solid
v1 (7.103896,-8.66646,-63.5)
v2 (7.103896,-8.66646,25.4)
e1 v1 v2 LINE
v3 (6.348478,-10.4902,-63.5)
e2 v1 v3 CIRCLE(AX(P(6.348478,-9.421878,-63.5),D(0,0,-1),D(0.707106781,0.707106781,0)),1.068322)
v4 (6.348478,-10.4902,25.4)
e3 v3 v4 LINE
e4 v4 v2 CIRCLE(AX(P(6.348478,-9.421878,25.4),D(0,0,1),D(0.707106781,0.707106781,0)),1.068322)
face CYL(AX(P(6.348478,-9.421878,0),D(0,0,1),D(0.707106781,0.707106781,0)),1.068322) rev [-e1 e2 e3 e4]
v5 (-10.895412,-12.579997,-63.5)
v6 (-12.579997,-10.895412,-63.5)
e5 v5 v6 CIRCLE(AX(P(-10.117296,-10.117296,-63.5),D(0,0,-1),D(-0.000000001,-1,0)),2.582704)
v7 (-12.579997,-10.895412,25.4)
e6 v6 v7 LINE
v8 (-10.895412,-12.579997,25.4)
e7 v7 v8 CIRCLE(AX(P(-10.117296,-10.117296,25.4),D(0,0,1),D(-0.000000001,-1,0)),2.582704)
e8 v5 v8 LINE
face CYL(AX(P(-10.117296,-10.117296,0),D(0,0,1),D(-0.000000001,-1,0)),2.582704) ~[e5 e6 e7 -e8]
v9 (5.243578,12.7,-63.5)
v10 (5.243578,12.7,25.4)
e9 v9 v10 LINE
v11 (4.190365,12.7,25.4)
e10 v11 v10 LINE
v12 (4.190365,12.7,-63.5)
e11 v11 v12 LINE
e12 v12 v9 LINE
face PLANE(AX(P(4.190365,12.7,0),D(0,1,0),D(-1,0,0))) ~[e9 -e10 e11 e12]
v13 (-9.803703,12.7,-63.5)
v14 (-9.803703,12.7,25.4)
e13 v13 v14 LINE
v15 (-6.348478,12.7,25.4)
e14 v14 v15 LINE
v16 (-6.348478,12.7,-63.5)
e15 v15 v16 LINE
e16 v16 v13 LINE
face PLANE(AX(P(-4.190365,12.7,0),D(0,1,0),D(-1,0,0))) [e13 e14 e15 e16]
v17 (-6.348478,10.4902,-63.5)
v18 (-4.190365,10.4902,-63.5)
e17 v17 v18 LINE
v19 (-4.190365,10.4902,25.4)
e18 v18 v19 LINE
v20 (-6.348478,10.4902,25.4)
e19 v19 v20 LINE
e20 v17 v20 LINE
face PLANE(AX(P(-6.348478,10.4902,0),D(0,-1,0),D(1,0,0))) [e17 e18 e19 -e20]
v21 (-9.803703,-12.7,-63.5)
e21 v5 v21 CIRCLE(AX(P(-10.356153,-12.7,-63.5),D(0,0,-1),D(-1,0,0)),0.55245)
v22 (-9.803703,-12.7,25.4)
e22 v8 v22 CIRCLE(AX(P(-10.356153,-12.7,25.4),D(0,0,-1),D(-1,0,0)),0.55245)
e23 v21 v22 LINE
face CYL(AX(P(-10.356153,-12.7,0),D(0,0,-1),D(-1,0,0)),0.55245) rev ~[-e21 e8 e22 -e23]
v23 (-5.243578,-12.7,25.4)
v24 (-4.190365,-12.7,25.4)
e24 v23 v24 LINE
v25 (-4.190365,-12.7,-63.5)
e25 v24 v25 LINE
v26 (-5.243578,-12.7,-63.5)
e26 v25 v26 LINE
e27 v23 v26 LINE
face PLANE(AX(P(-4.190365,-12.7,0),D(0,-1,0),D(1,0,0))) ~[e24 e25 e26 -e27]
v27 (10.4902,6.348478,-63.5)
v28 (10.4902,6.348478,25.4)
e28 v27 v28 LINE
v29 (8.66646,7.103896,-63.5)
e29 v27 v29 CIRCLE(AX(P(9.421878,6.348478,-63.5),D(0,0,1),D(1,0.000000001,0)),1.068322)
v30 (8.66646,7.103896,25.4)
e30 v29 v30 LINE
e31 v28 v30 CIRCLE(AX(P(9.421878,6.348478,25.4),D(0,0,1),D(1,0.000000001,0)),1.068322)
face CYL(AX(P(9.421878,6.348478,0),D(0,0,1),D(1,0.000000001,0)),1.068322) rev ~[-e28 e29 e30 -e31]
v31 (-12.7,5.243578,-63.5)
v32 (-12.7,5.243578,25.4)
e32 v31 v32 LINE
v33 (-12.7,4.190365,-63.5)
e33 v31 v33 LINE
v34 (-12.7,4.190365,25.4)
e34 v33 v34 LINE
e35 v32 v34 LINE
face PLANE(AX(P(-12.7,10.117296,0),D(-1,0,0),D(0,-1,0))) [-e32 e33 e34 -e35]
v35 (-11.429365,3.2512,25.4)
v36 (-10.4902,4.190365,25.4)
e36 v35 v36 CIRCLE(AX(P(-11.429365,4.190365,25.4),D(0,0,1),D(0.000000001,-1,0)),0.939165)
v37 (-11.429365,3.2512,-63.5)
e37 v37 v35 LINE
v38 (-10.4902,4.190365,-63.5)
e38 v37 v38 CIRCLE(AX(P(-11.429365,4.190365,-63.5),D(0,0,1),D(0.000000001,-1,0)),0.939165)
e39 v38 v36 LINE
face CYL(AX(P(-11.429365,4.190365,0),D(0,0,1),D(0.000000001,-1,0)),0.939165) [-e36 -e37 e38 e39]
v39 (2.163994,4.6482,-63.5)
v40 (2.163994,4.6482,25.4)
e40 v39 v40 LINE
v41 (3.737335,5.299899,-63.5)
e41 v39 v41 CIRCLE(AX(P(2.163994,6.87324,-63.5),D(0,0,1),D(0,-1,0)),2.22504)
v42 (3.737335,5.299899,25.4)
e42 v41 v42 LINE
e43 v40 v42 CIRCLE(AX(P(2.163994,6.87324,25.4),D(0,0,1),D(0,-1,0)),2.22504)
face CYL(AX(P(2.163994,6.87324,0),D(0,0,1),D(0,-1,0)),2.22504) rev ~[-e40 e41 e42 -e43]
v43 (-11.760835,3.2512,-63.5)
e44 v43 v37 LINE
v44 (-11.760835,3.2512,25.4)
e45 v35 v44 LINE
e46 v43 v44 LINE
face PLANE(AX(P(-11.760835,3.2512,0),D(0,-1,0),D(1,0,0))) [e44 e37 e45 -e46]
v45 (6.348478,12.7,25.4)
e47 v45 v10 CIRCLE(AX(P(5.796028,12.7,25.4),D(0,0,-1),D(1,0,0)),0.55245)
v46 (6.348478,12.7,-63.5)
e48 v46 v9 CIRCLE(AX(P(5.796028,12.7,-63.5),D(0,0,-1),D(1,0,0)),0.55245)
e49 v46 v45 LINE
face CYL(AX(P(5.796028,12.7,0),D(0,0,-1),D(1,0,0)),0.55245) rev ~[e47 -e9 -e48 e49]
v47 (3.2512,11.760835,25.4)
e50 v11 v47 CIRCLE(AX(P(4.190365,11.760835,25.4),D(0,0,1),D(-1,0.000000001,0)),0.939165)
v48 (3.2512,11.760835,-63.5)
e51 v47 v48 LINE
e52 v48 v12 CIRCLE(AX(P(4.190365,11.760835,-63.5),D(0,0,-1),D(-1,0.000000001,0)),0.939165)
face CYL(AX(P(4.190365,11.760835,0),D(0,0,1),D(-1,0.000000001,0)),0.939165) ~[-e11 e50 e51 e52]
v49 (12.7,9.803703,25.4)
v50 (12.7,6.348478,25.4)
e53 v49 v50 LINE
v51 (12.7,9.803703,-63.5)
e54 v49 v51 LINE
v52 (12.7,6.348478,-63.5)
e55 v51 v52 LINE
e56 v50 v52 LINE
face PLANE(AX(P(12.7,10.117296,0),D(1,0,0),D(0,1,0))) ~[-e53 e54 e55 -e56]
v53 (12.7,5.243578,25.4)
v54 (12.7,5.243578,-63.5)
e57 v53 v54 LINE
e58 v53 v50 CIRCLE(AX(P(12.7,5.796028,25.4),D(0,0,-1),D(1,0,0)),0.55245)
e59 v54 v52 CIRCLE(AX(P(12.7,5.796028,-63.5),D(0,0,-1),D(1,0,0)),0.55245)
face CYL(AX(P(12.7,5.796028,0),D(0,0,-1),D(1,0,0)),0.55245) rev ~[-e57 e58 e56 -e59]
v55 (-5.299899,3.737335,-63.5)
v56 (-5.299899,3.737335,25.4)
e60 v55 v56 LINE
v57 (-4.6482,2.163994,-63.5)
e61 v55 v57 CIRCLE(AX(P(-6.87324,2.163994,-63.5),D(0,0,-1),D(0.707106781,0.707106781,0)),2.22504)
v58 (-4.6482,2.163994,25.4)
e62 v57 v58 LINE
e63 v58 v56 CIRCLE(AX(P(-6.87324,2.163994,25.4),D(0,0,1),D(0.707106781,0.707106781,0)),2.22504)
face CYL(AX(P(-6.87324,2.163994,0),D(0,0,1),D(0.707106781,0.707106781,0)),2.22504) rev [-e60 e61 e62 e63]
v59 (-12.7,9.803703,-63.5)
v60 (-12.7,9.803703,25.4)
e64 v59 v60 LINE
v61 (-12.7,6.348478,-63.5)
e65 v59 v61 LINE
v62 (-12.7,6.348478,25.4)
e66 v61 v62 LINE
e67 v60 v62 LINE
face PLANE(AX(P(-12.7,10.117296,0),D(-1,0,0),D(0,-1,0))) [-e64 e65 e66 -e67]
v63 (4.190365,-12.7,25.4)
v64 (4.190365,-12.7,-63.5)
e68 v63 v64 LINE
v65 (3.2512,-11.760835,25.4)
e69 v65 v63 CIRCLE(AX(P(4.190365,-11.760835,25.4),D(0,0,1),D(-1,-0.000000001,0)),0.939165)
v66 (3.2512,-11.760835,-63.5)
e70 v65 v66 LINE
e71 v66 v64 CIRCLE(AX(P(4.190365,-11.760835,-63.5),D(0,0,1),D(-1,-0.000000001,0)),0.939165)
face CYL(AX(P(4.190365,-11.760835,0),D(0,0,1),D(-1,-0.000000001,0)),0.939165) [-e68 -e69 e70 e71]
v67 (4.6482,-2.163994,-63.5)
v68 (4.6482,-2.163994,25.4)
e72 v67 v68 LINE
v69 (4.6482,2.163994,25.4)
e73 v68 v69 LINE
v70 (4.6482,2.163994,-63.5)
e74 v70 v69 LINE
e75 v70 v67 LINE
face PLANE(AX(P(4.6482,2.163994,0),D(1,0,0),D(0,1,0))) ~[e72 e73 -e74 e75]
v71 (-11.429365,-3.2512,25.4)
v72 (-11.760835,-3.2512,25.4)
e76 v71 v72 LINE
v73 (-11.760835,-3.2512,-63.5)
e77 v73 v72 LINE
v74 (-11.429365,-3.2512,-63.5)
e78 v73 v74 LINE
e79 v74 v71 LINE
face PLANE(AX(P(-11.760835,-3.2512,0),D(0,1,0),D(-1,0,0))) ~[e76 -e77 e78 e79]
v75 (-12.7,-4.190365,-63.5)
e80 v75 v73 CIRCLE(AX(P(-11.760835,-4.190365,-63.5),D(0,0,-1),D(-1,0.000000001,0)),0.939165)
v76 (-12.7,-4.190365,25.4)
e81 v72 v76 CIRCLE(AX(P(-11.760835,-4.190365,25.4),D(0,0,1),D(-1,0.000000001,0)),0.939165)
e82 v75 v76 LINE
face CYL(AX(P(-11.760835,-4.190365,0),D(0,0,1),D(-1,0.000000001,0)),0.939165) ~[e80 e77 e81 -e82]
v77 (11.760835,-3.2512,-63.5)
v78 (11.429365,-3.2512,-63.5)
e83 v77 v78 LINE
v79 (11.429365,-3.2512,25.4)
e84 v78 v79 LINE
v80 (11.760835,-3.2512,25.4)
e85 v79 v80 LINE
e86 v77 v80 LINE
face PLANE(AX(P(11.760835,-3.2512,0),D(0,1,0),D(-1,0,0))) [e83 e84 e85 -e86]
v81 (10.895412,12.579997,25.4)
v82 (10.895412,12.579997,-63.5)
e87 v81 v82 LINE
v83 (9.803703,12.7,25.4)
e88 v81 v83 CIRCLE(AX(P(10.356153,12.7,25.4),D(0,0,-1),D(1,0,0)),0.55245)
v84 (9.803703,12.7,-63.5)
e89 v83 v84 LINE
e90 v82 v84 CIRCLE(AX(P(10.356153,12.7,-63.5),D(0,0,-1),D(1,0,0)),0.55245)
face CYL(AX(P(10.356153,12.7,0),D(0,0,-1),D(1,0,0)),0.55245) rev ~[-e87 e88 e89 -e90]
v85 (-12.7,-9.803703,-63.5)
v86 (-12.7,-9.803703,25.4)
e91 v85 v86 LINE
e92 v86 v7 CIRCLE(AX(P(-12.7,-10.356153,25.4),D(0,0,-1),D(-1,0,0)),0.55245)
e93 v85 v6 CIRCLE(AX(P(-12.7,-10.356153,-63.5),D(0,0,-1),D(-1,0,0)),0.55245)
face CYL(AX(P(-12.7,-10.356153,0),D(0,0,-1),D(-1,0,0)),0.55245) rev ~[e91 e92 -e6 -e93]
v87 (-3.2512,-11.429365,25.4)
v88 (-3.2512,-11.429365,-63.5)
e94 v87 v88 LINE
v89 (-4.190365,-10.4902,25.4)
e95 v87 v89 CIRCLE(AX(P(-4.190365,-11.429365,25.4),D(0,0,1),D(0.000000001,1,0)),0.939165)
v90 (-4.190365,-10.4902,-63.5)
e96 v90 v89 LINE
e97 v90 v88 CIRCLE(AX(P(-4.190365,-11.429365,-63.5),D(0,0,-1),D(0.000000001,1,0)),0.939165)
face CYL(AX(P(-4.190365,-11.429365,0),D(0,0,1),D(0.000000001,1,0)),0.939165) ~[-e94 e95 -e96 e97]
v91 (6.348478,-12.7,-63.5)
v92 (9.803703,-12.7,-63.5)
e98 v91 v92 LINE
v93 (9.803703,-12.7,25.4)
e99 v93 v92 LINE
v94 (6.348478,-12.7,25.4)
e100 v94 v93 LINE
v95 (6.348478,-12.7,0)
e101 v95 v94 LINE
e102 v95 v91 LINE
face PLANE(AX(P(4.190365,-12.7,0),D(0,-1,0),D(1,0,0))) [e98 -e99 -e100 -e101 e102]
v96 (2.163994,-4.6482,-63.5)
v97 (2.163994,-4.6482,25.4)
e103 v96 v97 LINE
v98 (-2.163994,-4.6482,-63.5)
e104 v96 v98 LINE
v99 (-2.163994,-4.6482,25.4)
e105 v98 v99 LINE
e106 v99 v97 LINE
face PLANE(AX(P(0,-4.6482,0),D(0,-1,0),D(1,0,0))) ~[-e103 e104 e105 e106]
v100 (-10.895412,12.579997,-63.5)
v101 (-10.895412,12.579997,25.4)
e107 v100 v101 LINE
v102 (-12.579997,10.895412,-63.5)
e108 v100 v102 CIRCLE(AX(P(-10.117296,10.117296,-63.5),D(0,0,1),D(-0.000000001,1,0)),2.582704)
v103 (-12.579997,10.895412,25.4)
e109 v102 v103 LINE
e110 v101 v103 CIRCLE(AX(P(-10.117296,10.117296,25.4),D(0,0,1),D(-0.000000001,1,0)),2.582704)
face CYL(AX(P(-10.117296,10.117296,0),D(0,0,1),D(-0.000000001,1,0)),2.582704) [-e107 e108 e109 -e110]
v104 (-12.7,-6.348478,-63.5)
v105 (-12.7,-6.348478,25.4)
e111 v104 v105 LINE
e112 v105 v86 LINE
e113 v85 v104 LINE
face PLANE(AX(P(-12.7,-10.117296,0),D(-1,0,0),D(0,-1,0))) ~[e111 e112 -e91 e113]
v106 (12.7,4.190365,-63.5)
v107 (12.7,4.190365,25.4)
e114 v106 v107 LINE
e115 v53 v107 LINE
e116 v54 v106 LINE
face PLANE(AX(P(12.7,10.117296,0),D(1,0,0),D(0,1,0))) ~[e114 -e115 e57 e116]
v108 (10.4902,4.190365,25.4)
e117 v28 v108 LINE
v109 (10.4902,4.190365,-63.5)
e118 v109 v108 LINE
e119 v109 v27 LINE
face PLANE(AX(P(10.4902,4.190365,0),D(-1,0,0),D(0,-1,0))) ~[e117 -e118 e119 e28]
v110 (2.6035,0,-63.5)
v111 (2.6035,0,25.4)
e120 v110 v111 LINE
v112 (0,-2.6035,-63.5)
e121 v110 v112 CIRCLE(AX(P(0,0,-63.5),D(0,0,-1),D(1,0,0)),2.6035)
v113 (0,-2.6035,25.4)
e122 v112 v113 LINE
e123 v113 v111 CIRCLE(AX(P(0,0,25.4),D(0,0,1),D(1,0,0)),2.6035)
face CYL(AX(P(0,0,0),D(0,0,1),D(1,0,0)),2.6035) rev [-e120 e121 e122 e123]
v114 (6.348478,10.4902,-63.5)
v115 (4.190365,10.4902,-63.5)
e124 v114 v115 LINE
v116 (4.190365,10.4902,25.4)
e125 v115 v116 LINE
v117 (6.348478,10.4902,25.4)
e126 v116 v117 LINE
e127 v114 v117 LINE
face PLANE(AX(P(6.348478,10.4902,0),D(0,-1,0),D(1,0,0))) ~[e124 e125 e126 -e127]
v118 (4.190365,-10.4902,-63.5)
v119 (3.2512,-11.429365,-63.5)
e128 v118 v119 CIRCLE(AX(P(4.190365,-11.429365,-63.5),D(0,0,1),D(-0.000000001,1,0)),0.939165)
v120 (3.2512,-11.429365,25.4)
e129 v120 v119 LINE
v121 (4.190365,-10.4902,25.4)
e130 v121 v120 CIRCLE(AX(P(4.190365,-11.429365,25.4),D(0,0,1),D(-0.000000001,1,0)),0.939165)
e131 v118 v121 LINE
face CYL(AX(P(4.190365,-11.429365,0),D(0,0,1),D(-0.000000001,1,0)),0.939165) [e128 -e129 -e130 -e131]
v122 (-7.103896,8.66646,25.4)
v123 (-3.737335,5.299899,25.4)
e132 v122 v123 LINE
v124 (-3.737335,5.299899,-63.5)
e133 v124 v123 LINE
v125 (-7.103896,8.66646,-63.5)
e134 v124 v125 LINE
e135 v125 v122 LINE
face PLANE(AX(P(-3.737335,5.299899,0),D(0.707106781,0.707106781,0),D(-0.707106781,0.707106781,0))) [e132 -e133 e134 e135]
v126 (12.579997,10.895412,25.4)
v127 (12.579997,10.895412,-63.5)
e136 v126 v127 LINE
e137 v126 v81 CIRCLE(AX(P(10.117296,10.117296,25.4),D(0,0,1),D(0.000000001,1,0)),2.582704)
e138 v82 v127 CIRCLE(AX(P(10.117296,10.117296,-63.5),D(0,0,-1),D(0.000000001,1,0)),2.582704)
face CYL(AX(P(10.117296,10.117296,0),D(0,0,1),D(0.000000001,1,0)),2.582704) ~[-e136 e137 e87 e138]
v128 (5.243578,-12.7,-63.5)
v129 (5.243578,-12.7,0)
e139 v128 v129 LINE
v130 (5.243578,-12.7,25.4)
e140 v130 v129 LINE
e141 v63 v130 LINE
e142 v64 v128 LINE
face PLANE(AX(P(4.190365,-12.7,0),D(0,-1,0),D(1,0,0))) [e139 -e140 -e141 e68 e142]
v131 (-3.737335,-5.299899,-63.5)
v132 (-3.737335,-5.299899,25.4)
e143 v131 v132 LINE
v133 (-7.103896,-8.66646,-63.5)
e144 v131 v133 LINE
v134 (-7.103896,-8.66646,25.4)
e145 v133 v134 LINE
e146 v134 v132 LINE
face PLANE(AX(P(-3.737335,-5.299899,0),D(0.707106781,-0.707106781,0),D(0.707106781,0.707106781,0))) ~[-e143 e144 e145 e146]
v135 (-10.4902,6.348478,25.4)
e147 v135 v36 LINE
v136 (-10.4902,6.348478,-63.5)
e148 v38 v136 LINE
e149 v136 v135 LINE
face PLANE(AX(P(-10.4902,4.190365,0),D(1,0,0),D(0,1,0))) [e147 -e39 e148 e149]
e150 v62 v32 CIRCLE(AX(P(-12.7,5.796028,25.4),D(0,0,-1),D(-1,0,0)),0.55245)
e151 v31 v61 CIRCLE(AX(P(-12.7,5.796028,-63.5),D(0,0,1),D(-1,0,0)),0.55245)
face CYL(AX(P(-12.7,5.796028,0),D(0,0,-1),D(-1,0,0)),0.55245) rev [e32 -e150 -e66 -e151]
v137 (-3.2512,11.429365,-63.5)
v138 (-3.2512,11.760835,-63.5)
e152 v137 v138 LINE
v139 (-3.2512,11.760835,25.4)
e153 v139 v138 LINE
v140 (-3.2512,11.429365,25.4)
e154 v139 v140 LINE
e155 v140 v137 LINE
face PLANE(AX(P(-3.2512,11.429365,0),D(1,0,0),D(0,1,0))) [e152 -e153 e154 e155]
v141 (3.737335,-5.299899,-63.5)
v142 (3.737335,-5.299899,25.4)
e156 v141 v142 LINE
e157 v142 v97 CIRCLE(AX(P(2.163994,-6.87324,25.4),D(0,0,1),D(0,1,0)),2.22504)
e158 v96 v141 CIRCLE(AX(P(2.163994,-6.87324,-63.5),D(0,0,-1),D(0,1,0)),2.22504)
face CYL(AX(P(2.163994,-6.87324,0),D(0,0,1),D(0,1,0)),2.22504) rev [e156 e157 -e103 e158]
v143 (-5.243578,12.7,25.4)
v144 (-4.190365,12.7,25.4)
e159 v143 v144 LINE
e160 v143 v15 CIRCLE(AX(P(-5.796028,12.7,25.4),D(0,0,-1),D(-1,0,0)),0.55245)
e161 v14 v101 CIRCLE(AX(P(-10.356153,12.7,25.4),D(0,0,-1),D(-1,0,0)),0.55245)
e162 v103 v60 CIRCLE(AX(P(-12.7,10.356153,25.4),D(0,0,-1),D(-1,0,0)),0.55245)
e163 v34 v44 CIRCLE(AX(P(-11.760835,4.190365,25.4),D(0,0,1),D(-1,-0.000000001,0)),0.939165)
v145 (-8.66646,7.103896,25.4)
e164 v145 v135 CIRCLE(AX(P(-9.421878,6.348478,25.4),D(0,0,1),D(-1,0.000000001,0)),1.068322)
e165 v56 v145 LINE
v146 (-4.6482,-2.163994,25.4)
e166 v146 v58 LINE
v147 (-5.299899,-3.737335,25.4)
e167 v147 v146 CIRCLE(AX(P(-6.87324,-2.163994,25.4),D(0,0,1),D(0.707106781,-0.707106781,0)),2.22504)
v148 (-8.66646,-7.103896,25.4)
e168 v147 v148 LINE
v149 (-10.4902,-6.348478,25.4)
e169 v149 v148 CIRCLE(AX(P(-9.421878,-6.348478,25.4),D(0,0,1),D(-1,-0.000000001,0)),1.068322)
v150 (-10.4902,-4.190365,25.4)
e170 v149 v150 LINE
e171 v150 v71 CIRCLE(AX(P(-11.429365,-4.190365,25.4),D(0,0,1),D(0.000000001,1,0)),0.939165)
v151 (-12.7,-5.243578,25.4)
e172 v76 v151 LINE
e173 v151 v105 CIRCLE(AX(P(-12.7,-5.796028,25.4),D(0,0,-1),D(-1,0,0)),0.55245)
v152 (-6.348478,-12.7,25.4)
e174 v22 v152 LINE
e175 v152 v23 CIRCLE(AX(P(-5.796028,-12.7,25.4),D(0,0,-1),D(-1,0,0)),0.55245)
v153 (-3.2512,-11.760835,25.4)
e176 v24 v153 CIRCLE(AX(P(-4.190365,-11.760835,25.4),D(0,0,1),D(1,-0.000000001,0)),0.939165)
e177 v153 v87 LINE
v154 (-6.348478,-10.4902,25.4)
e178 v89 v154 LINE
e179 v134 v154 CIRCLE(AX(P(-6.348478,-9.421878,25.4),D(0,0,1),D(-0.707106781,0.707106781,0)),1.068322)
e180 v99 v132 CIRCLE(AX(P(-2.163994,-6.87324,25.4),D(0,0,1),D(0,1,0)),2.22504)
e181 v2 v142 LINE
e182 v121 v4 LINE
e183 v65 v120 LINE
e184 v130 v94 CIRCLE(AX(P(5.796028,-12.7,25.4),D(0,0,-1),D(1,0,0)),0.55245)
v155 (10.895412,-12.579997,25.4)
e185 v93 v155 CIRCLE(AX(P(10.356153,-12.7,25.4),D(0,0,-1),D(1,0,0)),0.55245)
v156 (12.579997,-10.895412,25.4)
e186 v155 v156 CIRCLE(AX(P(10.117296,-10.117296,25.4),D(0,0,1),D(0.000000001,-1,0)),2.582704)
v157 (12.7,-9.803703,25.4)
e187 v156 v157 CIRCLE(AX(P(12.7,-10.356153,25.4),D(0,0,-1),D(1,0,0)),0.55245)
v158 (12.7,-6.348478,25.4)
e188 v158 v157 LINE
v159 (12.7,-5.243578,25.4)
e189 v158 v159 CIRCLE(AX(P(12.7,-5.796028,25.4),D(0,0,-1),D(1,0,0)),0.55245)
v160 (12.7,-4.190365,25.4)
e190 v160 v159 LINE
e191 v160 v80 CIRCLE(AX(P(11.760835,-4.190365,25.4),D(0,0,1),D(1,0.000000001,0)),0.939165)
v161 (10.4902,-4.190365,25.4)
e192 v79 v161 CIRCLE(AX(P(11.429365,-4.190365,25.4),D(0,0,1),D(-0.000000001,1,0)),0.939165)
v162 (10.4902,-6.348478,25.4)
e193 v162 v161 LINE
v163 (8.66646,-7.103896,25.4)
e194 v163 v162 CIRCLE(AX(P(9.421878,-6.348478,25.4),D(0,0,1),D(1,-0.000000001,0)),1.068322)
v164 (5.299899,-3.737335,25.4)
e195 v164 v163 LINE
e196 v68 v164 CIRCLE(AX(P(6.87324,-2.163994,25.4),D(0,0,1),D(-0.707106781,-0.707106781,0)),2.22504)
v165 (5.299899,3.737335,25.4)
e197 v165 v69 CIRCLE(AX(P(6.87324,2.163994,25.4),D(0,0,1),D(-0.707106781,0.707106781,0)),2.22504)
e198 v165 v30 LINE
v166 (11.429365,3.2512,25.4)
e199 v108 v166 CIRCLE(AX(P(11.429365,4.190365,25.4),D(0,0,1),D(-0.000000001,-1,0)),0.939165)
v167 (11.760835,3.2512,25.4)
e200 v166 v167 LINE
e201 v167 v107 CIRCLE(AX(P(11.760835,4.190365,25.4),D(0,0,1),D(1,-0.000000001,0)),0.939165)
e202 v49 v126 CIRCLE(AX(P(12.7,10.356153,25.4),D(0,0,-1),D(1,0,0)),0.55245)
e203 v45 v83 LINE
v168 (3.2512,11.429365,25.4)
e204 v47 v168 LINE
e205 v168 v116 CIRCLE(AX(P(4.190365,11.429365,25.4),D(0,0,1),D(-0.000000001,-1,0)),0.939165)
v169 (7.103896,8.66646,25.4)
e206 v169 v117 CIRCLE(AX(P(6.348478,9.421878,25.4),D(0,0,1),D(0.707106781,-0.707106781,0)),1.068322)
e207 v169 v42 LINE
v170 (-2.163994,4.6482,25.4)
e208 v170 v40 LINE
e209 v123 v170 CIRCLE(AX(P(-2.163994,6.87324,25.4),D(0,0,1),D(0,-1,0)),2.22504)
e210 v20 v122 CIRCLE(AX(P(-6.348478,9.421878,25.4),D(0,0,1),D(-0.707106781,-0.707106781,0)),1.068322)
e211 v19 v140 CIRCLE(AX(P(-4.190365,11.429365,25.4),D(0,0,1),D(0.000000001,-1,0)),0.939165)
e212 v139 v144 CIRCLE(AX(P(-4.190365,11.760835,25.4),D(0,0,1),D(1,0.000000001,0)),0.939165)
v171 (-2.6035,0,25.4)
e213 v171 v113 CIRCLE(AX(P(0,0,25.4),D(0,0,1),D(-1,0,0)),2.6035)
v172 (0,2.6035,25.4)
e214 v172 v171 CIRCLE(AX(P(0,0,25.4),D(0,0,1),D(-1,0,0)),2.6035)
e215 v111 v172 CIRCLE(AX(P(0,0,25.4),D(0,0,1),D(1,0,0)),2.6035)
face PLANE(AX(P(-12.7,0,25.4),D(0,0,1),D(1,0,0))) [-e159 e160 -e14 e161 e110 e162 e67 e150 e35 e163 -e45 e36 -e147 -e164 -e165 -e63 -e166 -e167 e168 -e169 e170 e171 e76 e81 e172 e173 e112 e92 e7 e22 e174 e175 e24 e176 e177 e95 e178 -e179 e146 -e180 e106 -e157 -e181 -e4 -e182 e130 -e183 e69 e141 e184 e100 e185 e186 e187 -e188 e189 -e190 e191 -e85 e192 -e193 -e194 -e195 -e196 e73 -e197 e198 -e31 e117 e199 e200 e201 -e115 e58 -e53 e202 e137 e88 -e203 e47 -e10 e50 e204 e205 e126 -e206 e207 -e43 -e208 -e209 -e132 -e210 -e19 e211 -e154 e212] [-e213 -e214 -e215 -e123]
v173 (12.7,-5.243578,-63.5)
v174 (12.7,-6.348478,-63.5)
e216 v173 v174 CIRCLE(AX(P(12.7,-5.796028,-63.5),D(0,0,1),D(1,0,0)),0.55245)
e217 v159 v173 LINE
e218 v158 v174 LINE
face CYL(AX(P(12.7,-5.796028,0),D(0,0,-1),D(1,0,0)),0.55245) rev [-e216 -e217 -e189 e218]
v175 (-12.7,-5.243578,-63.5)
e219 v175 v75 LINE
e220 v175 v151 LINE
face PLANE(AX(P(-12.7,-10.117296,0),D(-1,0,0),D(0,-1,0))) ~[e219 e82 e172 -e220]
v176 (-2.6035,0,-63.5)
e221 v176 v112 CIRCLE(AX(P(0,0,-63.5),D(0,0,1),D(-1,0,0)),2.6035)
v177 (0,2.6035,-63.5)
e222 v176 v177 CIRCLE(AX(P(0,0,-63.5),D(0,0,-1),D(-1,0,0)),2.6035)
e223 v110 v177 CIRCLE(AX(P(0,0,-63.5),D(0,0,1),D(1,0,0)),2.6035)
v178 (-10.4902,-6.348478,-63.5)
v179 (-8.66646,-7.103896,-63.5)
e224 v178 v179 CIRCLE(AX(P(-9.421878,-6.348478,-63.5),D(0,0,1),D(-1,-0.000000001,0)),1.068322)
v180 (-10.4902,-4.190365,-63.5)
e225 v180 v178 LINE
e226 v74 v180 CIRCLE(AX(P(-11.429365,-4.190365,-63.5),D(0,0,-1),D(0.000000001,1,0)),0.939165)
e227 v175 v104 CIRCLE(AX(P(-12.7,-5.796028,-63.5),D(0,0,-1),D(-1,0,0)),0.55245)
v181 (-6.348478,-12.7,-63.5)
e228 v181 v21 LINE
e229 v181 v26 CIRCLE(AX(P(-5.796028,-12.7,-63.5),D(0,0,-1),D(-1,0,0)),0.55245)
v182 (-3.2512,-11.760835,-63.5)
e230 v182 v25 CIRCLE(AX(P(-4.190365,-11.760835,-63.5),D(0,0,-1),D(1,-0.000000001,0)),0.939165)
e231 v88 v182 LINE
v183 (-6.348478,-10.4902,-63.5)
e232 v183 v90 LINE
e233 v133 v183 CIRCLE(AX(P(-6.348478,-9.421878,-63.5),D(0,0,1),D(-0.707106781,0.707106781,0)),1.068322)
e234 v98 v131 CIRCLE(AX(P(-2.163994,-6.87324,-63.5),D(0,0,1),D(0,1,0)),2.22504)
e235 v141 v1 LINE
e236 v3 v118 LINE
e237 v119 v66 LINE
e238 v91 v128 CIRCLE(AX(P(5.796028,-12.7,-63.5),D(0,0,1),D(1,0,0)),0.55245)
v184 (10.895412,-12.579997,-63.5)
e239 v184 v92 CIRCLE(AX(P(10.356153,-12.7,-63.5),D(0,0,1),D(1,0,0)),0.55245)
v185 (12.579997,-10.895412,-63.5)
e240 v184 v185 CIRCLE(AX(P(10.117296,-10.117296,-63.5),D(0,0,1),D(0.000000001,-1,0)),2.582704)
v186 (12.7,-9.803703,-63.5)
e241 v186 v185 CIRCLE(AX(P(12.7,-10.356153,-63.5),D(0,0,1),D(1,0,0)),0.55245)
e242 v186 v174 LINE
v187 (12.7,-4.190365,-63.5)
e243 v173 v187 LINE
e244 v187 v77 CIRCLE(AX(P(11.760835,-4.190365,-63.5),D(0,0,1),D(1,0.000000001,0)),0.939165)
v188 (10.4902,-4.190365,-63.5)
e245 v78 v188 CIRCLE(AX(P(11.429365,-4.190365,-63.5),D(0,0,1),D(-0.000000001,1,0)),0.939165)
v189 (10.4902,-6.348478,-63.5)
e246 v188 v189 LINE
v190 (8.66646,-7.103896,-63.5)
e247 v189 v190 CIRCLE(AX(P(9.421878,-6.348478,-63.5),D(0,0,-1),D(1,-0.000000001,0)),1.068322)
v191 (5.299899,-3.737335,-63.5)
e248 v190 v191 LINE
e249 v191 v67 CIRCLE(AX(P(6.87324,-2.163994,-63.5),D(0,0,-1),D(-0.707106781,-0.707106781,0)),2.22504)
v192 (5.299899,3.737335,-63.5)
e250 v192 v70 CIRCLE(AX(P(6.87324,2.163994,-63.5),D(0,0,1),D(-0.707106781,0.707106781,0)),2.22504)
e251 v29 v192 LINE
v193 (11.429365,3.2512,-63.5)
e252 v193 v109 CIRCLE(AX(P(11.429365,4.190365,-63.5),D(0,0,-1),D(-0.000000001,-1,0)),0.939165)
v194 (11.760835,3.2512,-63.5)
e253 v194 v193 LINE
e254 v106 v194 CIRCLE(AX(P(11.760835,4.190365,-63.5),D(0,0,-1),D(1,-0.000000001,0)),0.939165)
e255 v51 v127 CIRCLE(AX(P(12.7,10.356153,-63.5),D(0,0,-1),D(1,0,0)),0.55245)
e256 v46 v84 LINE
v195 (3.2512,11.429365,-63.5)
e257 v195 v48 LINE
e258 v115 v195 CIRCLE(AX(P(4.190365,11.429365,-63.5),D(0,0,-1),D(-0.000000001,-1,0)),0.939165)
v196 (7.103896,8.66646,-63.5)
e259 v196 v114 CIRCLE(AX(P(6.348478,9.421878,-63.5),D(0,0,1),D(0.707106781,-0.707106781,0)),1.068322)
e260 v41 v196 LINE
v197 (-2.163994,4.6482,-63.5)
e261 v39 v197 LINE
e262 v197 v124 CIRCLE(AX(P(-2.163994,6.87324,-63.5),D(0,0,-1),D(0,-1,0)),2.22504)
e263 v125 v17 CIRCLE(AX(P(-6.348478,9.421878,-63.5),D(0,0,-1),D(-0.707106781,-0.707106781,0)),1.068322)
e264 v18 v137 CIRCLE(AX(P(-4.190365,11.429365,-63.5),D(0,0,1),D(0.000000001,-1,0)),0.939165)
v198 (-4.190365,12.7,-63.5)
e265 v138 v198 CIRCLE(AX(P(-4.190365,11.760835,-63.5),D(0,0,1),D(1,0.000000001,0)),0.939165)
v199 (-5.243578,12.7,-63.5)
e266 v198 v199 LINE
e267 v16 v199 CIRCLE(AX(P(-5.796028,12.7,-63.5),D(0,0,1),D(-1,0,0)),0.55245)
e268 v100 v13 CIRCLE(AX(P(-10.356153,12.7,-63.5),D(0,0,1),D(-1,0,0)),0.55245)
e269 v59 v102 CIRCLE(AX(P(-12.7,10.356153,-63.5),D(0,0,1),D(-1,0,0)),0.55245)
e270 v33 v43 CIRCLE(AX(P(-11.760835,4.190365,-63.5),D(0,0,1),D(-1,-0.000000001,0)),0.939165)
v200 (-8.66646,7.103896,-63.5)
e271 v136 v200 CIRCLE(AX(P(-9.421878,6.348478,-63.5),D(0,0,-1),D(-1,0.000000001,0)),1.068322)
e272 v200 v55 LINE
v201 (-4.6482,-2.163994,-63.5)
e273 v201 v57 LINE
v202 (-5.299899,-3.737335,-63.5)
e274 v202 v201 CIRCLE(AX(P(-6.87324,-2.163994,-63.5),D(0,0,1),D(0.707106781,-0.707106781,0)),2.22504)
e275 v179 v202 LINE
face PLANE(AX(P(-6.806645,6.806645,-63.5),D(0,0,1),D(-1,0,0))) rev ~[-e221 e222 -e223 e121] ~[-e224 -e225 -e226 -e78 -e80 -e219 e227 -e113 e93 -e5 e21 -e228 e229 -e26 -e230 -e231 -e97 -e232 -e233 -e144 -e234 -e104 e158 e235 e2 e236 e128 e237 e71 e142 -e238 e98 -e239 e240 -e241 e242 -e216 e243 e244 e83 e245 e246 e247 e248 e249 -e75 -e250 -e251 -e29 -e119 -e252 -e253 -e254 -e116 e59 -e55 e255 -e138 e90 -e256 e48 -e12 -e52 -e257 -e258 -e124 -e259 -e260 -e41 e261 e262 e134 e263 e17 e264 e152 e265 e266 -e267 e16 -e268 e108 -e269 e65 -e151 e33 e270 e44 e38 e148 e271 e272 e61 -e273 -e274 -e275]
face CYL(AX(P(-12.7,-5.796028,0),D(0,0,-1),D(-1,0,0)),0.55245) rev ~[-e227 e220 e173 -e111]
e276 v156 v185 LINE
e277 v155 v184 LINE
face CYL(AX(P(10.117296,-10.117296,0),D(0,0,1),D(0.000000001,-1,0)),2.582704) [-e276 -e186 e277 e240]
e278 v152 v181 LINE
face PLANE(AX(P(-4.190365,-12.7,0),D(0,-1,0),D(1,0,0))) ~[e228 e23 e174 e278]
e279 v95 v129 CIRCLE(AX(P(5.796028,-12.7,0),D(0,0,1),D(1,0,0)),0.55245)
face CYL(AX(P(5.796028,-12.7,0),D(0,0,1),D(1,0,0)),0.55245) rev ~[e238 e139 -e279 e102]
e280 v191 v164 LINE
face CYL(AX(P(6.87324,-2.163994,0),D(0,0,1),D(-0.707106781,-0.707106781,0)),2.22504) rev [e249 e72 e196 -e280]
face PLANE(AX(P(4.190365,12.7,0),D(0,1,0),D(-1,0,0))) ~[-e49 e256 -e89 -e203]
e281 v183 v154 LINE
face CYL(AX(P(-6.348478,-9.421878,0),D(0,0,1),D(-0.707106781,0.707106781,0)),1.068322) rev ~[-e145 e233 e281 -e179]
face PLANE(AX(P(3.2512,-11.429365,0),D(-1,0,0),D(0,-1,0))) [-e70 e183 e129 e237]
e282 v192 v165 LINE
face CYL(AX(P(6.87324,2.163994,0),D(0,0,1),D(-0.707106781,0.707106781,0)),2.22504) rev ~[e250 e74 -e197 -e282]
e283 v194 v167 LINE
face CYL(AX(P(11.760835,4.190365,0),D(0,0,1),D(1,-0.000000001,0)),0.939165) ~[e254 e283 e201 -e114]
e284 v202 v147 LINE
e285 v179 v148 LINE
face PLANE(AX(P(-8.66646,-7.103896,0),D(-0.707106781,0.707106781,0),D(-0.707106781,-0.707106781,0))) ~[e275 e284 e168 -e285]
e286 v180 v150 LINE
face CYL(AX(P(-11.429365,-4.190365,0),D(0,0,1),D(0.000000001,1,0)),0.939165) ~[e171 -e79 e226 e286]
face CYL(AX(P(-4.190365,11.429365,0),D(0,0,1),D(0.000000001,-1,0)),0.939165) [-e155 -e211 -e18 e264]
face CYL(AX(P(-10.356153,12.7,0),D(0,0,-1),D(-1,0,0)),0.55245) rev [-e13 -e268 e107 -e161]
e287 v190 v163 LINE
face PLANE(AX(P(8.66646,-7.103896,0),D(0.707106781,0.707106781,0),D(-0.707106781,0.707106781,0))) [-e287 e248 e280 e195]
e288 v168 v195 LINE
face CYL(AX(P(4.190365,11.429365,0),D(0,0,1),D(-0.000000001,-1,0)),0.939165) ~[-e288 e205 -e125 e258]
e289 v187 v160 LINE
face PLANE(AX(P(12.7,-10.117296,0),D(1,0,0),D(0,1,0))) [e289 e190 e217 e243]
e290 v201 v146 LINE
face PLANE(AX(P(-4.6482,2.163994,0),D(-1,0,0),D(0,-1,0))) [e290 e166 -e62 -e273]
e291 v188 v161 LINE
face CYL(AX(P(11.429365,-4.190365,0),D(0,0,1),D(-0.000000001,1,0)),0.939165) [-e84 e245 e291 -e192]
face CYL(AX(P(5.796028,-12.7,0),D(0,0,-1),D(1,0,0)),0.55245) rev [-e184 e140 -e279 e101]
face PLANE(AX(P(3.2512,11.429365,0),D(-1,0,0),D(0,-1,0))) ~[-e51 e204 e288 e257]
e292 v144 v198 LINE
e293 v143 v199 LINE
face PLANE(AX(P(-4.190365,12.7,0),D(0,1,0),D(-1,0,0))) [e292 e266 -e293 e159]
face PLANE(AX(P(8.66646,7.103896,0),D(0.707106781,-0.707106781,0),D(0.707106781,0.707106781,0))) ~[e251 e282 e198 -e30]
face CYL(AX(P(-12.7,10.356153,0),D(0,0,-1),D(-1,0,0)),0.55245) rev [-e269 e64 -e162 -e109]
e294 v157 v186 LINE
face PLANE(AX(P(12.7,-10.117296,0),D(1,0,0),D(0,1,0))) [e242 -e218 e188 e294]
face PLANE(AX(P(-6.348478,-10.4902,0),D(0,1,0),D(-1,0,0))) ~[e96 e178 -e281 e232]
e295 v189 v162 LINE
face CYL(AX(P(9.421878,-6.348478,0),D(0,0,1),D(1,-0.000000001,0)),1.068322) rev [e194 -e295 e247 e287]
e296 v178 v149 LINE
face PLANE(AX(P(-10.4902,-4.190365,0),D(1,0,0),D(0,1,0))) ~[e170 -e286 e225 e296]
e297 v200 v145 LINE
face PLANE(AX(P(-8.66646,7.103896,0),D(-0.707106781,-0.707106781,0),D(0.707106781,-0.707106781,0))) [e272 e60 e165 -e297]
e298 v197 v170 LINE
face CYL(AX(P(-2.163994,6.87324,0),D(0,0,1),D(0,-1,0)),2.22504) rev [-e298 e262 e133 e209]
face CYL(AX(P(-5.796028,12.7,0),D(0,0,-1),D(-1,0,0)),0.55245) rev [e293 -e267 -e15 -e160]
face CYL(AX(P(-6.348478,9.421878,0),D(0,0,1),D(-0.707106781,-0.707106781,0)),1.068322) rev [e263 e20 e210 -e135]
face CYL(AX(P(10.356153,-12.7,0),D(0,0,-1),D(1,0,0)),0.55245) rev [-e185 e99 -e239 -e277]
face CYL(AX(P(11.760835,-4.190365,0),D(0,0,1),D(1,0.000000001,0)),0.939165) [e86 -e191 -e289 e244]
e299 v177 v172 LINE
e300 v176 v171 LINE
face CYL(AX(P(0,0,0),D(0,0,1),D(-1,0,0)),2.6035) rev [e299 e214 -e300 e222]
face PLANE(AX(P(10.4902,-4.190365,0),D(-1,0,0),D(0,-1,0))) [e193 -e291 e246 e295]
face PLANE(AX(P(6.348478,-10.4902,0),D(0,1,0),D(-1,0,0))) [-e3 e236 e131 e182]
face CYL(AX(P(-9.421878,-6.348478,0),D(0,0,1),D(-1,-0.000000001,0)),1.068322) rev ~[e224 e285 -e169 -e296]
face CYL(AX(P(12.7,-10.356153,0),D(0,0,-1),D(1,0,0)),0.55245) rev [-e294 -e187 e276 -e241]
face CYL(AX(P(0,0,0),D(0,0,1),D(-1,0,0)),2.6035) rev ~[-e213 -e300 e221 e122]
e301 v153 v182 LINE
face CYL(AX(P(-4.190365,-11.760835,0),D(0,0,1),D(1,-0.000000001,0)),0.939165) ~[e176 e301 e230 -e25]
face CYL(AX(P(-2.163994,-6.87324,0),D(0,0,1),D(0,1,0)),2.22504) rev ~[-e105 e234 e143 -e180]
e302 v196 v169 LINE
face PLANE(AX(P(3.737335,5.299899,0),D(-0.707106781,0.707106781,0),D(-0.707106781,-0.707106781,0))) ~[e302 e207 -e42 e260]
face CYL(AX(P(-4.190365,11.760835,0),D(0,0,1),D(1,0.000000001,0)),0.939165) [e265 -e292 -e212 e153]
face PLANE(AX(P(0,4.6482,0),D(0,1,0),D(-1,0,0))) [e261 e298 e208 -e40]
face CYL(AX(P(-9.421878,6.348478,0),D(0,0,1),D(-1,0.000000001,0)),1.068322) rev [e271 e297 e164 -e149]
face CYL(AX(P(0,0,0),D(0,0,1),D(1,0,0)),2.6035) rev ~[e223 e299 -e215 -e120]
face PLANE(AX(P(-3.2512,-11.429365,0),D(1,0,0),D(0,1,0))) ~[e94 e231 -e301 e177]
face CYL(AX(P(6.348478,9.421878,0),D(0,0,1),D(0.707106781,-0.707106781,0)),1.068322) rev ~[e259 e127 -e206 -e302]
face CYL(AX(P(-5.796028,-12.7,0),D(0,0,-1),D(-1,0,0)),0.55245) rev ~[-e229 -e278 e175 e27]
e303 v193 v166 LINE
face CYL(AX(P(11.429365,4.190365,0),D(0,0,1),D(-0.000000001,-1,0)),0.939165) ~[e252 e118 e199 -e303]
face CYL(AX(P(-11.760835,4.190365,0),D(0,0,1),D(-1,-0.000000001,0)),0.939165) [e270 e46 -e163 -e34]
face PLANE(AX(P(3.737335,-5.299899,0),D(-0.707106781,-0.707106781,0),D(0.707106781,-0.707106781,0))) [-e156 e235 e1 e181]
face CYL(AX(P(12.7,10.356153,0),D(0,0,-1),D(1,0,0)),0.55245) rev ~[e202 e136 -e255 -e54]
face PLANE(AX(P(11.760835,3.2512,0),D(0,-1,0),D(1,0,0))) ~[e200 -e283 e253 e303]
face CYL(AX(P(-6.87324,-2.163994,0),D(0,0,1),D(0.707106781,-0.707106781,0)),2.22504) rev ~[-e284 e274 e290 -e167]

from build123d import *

# Parameters (mm, degrees)
BOSS_EXTRUDE1_DEPTH     = 63.5
SKETCH5_R               = 0.55245
CUT_EXTRUDE1_DEPTH      = 64.5
CUT_EXTRUDE1_DEPTH_BACK = 64.5
SKETCH7_W               = 25.4
SKETCH7_H               = 38.1
CUT_EXTRUDE2_DEPTH      = 12.7


with BuildPart() as part:
    # Sketch4 → Boss-Extrude1 (new body, symmetric)
    with BuildSketch(Plane.XY):
        with BuildLine():
            Line((4.190365, -12.7), (10.11729625, -12.7))
            ThreePointArc((10.11729625, -12.7), (11.943543585, -11.943543585), (12.7, -10.11729625))
            Line((12.7, -10.11729625), (12.7, -4.190365))
            ThreePointArc((12.7, -4.190365), (12.42492494, -3.52627506), (11.760835, -3.2512))
            Line((11.760835, -3.2512), (11.429365, -3.2512))
            ThreePointArc((11.429365, -3.2512), (10.76527506, -3.52627506), (10.4902, -4.190365))
            Line((10.4902, -4.190365), (10.4902, -6.348478019))
            ThreePointArc((10.4902, -6.348478019), (9.830707141, -7.335478831), (8.666460301, -7.103895736))
            Line((8.666460301, -7.103895736), (5.299899128, -3.737334563))
            ThreePointArc((5.299899128, -3.737334563), (4.817571085, -3.015479634), (4.6482, -2.16399369))
            Line((4.6482, -2.16399369), (4.6482, 0))
            Line((4.6482, 0), (2.6035, 0))
            ThreePointArc((2.6035, 0), (1.840952505, -1.840952505), (0, -2.6035))
            Line((0, -2.6035), (0, -4.6482))
            Line((0, -4.6482), (2.16399369, -4.6482))
            ThreePointArc((2.16399369, -4.6482), (3.015479634, -4.817571085), (3.737334563, -5.299899128))
            Line((3.737334563, -5.299899128), (7.103895736, -8.666460301))
            ThreePointArc((7.103895736, -8.666460301), (7.335478831, -9.830707141), (6.348478019, -10.4902))
            Line((6.348478019, -10.4902), (4.190365, -10.4902))
            ThreePointArc((4.190365, -10.4902), (3.52627506, -10.76527506), (3.2512, -11.429365))
            Line((3.2512, -11.429365), (3.2512, -11.760835))
            ThreePointArc((3.2512, -11.760835), (3.52627506, -12.42492494), (4.190365, -12.7))
        make_face()
    extrude(amount=BOSS_EXTRUDE1_DEPTH, both=True)

    # Sketch5 → Cut-Extrude1 (cut, two sides)
    with BuildSketch(Plane.XY) as cut_extrude1_sk:
        with Locations((10.356153152, -12.7)):
            Circle(SKETCH5_R)
        with Locations((5.796028019, -12.7)):
            Circle(SKETCH5_R)
        with Locations((12.7, -10.356153152)):
            Circle(SKETCH5_R)
        with Locations((12.7, -5.796028019)):
            Circle(SKETCH5_R)
    extrude(amount=CUT_EXTRUDE1_DEPTH, mode=Mode.SUBTRACT)
    extrude(cut_extrude1_sk.sketch, amount=-CUT_EXTRUDE1_DEPTH_BACK, mode=Mode.SUBTRACT)

    # Mirror1: part across plane


with BuildPart() as part_1:
    add(part.part)
    add(part.part.mirror(Plane(origin=(0, 0, 0), x_dir=(0, 0, 1), z_dir=(1, 0, 0))))

    # Mirror2: part across plane


with BuildPart() as part_2:
    add(part_1.part)
    add(part_1.part.mirror(Plane.ZX))

    # Sketch7 → Cut-Extrude2 (cut, symmetric)
    with BuildSketch(Plane(origin=(0, 0, 0), x_dir=(1, 0, 0), z_dir=(0, 1, 0))):
        with Locations((0, -44.45)):
            Rectangle(SKETCH7_W, SKETCH7_H)
    extrude(amount=CUT_EXTRUDE2_DEPTH, both=True, mode=Mode.SUBTRACT)


solid = part_2.part
